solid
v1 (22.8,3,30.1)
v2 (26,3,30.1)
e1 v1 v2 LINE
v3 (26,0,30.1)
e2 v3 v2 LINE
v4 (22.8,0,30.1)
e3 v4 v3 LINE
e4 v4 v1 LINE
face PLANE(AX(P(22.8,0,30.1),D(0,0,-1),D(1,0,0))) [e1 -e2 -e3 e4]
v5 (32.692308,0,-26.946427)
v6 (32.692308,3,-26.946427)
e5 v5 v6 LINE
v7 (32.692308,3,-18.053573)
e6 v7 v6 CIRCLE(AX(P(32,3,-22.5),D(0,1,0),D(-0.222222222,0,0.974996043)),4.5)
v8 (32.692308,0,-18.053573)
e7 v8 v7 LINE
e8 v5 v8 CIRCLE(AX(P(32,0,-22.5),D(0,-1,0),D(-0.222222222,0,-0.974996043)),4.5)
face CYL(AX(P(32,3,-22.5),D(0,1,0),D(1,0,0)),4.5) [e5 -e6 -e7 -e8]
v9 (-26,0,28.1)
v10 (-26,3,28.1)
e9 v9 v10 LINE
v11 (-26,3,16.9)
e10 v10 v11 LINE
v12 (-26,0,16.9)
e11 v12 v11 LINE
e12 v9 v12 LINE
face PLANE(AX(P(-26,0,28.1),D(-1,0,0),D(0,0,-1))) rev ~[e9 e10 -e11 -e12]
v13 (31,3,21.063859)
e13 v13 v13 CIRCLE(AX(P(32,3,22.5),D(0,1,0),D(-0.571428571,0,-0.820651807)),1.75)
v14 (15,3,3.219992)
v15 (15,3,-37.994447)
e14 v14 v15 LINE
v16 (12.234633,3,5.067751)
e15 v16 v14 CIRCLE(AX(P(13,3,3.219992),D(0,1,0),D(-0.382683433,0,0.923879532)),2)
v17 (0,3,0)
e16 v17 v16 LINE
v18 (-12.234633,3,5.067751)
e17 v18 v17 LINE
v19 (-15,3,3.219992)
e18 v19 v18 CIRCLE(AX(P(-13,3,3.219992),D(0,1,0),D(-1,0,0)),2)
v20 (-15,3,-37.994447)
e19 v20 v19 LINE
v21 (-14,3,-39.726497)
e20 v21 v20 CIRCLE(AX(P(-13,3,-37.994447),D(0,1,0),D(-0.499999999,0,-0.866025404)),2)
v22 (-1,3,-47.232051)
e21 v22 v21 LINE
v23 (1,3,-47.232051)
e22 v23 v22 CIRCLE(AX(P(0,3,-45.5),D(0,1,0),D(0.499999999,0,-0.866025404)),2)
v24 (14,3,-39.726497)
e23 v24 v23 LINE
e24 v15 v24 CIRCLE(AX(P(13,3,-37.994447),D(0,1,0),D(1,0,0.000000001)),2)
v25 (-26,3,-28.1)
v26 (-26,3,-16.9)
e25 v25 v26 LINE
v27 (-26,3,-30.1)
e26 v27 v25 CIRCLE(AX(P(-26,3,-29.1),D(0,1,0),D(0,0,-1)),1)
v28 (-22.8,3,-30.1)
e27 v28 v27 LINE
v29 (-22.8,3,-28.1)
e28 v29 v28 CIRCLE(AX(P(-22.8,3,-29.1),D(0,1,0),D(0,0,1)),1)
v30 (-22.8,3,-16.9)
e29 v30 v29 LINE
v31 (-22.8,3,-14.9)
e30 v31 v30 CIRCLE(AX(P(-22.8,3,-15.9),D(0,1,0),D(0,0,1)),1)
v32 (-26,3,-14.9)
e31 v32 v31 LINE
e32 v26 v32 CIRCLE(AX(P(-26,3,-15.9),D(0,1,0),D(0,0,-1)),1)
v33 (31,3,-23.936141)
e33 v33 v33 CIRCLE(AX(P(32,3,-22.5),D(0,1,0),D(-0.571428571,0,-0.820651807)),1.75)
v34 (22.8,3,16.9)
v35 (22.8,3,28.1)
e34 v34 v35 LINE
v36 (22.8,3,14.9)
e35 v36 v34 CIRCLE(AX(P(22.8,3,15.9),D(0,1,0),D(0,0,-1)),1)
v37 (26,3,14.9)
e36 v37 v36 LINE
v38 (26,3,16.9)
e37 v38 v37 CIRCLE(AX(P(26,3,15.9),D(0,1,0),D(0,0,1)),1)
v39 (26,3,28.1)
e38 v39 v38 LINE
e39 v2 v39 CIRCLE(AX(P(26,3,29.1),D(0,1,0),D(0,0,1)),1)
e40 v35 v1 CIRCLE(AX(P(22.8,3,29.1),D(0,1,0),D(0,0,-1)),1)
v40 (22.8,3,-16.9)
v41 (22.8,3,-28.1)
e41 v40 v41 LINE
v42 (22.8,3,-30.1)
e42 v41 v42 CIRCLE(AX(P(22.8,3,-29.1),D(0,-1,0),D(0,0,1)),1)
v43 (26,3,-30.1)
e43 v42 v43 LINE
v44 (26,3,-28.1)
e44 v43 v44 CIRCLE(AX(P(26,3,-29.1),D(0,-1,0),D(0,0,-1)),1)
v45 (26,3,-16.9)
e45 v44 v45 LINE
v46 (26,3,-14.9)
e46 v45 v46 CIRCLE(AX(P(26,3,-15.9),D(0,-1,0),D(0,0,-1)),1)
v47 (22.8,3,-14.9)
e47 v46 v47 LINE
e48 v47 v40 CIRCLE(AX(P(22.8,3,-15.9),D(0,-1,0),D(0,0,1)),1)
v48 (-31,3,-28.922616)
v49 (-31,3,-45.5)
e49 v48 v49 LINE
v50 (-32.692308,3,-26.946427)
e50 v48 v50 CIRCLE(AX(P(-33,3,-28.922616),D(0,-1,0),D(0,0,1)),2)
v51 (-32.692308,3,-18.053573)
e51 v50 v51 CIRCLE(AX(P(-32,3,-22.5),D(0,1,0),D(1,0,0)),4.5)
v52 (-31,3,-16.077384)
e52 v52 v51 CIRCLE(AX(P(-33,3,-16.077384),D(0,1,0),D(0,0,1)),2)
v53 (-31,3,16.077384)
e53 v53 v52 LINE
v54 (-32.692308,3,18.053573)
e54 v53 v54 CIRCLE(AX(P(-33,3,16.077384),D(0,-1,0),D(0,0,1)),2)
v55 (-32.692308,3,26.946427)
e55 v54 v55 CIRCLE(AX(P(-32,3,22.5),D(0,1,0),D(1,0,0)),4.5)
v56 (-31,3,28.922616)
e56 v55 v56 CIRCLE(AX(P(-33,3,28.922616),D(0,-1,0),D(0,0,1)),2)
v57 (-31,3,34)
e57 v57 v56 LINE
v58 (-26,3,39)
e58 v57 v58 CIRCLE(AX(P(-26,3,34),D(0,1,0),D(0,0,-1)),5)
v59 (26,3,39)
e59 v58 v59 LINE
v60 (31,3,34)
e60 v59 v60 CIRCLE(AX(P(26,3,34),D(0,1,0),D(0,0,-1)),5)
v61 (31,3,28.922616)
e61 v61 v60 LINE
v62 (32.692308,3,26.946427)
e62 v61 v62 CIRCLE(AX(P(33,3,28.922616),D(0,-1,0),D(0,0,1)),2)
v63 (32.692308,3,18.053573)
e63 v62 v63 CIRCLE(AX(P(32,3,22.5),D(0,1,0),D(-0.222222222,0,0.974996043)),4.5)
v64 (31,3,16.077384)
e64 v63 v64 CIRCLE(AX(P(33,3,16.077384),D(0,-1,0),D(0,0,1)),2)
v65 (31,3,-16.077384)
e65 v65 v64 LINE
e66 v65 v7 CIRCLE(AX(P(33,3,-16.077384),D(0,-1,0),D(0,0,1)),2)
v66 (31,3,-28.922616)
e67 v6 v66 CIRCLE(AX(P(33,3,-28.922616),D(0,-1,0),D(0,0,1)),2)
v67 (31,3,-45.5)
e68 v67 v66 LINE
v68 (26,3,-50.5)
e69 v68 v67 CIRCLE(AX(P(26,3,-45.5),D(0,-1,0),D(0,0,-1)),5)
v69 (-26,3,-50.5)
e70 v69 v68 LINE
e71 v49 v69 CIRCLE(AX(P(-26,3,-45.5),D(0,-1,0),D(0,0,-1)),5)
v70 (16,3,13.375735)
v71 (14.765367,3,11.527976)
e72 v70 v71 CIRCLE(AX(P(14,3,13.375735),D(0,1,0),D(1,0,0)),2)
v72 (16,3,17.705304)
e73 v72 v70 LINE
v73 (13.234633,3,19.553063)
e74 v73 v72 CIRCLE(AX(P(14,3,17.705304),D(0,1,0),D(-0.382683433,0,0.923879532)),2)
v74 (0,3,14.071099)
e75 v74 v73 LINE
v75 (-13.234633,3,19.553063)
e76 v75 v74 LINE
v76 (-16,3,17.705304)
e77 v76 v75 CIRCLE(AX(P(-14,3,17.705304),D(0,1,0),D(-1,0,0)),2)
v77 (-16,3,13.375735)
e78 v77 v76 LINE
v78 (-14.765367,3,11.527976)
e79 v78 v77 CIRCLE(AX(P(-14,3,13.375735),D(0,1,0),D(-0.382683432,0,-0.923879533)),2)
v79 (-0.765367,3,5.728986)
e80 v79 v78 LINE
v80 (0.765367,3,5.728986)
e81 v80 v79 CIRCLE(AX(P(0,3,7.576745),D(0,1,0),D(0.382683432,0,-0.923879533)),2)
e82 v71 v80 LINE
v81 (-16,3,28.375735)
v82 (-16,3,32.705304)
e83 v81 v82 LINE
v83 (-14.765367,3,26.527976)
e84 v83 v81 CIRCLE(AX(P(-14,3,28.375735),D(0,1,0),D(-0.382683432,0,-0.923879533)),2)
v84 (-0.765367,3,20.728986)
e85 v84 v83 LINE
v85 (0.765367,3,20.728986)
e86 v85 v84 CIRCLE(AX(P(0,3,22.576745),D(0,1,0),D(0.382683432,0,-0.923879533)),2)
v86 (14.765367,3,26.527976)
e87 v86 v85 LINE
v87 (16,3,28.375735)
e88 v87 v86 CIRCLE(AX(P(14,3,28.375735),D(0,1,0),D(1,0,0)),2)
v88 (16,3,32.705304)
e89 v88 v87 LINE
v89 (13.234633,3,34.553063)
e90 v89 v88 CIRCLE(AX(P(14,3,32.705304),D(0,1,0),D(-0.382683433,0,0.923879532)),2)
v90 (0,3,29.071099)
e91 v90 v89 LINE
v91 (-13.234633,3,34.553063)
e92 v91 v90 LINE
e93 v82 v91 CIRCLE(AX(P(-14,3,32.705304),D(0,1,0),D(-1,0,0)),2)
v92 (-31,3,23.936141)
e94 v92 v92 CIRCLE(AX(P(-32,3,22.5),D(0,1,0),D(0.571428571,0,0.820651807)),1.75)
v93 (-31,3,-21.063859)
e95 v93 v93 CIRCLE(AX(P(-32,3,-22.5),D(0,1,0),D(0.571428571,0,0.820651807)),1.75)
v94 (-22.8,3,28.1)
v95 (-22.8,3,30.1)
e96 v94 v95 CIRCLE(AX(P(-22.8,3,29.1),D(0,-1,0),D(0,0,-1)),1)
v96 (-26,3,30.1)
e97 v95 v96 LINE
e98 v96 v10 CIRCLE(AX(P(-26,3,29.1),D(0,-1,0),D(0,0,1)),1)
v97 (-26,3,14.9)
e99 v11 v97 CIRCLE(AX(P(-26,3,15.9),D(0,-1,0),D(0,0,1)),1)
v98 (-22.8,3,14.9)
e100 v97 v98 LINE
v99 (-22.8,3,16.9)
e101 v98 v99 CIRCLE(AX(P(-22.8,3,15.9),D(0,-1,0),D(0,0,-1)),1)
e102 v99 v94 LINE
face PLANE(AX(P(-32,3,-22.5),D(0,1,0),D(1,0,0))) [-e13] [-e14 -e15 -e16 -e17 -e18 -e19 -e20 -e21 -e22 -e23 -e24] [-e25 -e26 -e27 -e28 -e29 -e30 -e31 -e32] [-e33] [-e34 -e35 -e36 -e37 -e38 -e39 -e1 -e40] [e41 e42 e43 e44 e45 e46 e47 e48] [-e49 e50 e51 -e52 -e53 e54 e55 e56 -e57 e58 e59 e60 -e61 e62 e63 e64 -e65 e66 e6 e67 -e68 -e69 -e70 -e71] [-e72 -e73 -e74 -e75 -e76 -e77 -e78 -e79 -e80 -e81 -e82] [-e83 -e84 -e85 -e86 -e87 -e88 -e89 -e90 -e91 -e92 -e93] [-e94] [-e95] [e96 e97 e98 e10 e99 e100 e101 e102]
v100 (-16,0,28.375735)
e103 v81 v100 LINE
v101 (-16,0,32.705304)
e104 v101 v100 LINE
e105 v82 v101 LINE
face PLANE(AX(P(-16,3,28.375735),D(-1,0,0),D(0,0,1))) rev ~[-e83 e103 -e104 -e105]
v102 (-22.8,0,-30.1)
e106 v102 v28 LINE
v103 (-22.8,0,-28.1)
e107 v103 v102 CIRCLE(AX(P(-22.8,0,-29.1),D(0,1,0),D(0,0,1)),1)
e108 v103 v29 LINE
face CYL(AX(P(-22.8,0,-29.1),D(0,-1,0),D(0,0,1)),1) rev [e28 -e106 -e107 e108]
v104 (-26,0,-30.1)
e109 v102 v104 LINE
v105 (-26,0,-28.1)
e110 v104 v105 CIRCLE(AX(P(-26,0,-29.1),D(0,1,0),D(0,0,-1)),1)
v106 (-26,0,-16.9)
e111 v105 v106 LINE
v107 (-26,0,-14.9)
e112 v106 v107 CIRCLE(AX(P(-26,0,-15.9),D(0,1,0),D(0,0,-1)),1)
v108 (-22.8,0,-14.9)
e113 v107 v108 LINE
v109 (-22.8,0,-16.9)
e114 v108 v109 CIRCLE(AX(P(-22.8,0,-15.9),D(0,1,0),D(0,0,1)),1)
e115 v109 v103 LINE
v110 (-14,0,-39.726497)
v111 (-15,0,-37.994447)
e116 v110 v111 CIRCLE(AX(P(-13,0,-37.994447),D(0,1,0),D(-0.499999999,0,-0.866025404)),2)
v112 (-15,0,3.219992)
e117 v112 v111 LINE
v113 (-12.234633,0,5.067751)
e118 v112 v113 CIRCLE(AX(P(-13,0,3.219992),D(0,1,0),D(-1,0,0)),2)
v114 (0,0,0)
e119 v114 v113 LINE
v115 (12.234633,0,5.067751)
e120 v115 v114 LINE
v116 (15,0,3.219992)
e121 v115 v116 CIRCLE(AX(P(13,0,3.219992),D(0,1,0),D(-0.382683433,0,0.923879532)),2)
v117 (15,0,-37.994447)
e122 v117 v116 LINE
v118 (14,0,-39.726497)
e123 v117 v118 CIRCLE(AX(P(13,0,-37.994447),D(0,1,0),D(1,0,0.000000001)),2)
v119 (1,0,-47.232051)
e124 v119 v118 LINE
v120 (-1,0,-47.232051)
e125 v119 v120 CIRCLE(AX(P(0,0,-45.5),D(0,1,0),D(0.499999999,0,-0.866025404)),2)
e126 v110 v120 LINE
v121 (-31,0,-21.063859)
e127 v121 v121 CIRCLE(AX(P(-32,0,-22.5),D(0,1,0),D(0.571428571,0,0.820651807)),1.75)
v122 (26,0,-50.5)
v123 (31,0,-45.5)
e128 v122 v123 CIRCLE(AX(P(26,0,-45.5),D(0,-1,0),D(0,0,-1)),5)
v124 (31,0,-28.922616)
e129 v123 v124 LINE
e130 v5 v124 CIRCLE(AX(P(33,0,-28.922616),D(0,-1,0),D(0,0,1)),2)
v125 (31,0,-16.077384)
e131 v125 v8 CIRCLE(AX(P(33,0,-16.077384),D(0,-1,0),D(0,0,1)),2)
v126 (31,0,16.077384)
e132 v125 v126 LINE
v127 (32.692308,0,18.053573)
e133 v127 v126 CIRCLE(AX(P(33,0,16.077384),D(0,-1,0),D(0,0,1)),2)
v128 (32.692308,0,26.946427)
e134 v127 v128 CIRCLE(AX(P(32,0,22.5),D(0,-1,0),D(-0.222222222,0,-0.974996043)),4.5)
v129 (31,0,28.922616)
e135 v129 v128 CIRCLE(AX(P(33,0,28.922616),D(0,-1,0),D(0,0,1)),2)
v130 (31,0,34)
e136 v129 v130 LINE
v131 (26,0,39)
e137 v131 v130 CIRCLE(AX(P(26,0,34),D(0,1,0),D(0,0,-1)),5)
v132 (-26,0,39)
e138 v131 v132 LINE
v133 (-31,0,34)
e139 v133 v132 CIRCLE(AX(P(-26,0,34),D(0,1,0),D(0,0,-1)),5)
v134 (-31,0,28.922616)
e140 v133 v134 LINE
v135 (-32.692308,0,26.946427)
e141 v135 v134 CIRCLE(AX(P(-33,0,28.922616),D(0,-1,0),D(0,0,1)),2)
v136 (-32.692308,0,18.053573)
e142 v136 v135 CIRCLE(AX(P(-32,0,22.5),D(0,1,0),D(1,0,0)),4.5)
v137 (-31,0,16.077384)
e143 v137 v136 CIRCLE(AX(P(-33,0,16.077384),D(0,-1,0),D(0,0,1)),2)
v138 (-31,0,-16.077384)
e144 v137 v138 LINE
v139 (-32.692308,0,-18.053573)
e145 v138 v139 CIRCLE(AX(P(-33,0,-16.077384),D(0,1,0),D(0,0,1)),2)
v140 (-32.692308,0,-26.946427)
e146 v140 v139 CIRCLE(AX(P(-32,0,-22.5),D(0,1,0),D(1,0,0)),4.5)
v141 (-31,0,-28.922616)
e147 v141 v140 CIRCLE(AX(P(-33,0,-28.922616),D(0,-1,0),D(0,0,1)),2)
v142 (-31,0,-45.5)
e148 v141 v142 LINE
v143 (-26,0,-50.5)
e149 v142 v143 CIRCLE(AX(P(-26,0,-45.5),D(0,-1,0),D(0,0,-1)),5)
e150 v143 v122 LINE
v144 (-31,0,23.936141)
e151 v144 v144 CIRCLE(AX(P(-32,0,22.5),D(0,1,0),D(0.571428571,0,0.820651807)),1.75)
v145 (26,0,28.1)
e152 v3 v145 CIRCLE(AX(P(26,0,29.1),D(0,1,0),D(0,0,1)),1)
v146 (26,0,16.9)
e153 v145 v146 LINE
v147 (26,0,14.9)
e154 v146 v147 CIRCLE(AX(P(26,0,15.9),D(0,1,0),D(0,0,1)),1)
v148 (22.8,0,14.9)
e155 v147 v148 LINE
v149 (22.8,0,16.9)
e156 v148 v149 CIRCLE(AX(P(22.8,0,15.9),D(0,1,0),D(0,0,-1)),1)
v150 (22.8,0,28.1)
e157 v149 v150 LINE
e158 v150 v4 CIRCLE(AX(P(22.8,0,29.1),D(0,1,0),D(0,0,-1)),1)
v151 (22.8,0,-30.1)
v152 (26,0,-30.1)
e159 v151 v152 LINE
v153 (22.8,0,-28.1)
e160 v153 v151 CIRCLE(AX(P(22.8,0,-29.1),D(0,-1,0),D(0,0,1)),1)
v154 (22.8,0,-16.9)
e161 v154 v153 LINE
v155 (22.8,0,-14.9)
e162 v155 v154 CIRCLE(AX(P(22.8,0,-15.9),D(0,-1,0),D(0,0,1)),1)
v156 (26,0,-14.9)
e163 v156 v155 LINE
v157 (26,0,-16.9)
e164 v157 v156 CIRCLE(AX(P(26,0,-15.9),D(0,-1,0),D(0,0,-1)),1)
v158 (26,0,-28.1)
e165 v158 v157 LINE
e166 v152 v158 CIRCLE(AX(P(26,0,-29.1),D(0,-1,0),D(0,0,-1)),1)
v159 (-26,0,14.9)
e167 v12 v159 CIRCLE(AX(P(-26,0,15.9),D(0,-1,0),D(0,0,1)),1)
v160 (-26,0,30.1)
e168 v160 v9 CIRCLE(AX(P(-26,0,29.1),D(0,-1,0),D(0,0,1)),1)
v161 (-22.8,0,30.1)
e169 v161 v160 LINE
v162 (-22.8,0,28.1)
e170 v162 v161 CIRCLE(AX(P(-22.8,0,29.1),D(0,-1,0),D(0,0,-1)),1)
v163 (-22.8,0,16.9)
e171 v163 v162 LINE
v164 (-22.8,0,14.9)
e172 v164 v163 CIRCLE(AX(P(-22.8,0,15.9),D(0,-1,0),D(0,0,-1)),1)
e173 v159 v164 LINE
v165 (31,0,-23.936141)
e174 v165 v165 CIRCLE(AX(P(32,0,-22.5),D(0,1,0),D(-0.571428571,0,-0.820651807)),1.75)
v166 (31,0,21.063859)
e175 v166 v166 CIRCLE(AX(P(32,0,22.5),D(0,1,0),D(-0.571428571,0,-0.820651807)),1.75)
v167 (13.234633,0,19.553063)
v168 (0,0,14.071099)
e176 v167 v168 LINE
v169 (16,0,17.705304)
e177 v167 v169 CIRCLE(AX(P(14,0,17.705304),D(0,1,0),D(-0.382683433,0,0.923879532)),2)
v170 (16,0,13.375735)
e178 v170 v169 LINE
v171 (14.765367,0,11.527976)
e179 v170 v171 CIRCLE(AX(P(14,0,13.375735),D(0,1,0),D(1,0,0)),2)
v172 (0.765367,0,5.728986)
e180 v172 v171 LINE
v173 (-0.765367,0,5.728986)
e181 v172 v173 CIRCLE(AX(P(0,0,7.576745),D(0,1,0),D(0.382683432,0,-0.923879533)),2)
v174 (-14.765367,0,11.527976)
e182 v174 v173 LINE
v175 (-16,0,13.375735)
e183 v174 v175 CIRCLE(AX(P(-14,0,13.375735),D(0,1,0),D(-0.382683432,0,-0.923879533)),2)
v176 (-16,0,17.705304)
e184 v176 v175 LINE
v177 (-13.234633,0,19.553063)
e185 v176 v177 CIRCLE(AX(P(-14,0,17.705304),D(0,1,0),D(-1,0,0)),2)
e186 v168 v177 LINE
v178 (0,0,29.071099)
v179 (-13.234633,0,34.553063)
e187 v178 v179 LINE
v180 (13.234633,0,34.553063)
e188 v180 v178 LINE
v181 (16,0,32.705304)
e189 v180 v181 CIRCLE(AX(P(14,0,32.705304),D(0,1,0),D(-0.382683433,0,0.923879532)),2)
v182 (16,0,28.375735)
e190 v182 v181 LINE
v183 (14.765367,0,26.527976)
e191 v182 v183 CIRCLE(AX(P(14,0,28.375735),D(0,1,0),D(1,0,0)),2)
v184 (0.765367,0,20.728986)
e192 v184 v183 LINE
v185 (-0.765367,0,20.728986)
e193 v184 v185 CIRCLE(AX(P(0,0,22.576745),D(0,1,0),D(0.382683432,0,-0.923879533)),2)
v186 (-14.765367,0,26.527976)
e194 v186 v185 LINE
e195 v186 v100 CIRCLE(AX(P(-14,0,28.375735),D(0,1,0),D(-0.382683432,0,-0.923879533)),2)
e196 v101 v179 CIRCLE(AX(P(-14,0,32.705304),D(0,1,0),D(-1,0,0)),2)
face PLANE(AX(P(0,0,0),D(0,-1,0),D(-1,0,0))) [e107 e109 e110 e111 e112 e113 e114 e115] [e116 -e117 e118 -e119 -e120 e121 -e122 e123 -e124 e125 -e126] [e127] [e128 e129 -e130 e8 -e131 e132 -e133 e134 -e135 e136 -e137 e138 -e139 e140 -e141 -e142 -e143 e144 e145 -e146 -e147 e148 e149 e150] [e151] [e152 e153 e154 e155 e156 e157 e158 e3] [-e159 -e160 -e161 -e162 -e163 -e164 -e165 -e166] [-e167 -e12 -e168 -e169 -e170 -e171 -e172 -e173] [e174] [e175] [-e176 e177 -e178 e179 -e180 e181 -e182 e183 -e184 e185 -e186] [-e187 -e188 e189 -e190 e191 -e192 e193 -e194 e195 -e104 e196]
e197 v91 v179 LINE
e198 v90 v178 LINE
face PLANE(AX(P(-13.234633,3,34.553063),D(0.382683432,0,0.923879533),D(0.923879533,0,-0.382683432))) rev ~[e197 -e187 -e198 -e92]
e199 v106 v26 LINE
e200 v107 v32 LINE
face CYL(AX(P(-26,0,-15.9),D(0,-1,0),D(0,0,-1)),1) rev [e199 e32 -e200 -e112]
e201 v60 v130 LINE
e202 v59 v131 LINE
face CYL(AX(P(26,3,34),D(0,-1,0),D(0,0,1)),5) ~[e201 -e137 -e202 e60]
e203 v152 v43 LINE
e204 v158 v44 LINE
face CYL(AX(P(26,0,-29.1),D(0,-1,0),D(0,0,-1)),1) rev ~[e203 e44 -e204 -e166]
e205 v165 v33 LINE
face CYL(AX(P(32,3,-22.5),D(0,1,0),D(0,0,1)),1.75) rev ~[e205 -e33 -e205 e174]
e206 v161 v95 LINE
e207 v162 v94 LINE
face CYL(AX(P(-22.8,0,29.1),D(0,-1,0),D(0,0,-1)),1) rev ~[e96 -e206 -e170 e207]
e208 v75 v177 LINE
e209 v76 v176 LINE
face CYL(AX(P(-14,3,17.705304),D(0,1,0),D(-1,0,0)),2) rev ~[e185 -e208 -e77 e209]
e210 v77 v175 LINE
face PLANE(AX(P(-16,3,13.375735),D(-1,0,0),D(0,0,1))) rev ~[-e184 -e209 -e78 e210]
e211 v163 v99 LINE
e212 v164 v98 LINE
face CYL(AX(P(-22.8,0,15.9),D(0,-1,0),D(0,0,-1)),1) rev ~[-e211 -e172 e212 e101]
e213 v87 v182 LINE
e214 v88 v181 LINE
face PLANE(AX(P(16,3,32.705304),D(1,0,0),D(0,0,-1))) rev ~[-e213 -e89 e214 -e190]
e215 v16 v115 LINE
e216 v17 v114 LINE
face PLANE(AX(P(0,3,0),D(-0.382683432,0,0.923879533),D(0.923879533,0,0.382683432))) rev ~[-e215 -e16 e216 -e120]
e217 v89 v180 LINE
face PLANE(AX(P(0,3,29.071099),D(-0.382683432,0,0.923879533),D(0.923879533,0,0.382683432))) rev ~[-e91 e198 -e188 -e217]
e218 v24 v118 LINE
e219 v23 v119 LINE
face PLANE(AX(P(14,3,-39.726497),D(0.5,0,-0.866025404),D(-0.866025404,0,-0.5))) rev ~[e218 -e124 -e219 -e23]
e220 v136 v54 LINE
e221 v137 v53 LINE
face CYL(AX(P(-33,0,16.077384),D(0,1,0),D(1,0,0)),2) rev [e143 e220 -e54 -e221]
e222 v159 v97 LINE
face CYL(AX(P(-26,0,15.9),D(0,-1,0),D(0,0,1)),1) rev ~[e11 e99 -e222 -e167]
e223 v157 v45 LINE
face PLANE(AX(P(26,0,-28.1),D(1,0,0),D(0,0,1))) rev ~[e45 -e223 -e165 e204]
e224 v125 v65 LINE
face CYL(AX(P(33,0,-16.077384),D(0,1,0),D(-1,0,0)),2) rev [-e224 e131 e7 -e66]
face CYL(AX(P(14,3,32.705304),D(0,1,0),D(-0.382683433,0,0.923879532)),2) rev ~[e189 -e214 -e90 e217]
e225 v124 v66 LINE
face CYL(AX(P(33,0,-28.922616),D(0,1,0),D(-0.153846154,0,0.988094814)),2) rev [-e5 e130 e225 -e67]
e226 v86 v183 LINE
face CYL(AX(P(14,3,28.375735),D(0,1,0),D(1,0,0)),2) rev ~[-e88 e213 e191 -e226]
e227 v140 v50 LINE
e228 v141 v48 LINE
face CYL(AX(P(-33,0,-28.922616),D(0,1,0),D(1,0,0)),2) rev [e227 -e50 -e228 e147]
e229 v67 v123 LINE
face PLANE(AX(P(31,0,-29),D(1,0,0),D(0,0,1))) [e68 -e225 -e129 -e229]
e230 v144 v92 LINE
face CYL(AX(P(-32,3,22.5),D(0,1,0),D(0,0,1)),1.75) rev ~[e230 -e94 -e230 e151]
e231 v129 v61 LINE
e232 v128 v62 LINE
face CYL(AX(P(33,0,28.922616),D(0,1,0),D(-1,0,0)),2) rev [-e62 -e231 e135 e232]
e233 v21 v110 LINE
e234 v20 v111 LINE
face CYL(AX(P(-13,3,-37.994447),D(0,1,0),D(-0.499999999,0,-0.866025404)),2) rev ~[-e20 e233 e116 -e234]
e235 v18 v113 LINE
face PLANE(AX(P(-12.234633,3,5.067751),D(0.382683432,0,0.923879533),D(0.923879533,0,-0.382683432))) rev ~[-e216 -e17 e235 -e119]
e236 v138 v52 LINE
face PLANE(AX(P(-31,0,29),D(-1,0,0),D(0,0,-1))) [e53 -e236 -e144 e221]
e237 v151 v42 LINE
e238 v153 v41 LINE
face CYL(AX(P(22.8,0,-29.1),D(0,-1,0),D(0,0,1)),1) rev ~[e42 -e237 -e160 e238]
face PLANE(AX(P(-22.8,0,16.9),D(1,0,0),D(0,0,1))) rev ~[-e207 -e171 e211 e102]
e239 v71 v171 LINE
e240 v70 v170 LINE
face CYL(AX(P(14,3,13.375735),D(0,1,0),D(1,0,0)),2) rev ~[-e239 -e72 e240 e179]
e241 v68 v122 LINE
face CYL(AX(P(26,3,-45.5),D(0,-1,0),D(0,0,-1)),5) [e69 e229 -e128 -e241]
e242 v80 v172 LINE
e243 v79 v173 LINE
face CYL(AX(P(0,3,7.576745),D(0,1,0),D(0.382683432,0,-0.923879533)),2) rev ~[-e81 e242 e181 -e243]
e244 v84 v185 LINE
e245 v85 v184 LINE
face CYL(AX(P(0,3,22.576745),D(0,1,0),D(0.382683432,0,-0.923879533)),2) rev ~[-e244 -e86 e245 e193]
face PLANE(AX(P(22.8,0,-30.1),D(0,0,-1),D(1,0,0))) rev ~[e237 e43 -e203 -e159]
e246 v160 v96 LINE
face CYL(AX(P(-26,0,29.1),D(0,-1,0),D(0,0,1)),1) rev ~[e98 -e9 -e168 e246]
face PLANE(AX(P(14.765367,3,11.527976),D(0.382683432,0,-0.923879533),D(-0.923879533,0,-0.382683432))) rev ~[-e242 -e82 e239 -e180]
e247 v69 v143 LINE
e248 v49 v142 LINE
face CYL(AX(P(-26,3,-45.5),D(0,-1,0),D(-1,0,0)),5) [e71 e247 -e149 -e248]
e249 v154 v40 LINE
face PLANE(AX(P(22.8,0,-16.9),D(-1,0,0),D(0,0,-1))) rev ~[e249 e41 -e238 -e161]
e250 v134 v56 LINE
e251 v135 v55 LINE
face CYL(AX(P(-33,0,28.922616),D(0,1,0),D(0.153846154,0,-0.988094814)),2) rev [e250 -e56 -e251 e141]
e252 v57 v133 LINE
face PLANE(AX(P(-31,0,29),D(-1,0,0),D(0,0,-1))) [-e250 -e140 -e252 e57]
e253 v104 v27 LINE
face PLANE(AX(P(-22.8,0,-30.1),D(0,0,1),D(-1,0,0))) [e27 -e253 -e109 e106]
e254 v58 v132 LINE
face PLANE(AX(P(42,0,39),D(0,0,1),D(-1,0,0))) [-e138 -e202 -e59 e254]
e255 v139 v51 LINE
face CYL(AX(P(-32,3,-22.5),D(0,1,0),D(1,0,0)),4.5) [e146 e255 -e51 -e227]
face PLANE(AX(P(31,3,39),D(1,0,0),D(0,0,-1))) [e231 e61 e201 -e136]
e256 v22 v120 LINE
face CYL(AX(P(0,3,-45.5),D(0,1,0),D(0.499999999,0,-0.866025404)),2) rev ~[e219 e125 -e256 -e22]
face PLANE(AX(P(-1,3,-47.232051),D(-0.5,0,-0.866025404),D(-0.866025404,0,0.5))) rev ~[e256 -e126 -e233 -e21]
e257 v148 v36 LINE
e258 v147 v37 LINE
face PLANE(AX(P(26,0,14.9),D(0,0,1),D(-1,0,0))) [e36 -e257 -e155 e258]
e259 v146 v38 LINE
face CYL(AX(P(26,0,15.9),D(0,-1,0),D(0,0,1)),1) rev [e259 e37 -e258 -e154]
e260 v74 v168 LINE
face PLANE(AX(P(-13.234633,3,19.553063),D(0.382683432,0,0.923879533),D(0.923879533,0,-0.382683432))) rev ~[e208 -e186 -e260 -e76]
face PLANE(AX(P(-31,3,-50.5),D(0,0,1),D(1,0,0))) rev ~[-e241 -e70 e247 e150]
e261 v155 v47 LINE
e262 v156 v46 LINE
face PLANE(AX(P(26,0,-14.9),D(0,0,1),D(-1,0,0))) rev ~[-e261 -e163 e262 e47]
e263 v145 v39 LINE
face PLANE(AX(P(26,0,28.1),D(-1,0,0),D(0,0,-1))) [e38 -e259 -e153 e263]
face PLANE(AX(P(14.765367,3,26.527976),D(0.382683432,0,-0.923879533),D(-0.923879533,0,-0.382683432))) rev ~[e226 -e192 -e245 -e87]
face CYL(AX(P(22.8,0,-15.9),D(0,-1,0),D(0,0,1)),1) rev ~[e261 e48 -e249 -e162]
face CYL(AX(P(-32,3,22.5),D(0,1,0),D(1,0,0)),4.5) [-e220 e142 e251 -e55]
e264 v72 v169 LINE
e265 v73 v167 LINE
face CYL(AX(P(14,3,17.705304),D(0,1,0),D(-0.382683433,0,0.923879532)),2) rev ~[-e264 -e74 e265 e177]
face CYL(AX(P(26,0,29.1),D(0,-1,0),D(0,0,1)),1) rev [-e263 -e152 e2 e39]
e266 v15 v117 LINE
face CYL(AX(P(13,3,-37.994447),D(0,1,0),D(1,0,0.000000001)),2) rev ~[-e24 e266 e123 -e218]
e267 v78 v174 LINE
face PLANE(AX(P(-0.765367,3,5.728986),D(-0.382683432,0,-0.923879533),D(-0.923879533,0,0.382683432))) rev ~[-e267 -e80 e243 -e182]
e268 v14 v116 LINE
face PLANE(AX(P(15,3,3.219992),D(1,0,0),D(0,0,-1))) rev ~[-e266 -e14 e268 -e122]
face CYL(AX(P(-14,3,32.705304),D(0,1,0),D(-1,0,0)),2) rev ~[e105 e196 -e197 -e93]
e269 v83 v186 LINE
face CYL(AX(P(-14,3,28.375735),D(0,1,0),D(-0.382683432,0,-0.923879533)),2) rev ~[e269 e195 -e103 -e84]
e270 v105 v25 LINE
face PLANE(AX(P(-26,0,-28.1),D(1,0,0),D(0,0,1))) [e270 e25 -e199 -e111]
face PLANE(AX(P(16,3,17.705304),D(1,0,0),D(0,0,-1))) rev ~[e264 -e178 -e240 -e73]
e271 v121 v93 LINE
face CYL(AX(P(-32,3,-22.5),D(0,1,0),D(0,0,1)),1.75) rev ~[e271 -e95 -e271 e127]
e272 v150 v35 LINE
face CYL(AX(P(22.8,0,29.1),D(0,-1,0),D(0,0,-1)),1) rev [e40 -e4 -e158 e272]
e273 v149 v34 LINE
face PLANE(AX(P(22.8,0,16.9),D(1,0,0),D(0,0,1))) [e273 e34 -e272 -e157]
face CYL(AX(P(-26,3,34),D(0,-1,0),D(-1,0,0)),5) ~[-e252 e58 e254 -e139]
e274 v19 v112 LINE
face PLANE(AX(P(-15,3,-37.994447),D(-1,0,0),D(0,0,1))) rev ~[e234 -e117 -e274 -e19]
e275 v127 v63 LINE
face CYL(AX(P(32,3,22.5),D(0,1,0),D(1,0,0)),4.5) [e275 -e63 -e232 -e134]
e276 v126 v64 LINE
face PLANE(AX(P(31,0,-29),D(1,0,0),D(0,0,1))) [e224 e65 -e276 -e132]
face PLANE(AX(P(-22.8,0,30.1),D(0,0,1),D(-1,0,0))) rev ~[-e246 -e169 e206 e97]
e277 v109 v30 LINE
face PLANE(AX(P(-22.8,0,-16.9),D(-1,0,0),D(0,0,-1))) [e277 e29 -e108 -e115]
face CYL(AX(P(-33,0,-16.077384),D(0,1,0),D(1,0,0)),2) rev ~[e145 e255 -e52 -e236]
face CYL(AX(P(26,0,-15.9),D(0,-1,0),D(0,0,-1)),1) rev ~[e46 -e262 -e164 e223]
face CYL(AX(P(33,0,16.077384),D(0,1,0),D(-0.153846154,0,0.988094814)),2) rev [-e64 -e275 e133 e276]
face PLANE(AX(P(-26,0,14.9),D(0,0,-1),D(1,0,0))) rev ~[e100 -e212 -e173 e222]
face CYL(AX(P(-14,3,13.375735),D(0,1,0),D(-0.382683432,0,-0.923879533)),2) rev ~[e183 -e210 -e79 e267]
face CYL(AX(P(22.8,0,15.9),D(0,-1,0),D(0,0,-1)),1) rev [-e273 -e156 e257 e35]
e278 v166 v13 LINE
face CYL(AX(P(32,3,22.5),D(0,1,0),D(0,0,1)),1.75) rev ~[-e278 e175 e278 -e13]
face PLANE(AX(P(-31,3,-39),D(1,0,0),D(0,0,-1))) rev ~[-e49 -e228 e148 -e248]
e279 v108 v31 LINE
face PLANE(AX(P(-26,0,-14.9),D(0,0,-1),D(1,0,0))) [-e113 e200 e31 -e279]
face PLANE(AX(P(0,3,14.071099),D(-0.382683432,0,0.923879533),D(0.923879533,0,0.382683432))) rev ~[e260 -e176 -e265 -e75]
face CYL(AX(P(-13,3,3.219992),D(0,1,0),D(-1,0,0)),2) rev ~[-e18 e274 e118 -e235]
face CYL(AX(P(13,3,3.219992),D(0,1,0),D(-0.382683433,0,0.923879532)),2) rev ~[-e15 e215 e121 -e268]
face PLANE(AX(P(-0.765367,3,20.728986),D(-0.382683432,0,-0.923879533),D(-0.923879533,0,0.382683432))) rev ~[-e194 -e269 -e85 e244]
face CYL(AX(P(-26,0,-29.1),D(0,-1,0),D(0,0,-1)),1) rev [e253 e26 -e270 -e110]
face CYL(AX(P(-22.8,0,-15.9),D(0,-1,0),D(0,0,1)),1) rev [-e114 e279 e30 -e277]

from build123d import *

# Parameters (mm, degrees)
SKETCH_1_R          = 1.65
EXTRUDE_1_DEPTH     = 3
SKETCH_3_W          = 62
SKETCH_3_H          = 11.5
EXTRUDE_2_DEPTH     = 3
FILLET_1_R          = 5
CUT_EXTRUDE_1_DEPTH = 10
SKETCH_4_R          = 4.5
SKETCH_4_R_2        = 1.75
EXTRUDE_3_DEPTH     = 3
FILLET_2_R          = 2
SKETCH_5_R          = 1.75
CUT_EXTRUDE_2_DEPTH = 3
SKETCH_6_OUTSIDE_W  = 115.11
SKETCH_6_OUTSIDE_H  = 116.61
CUT_EXTRUDE_4_DEPTH = 10
FILLET_3_R          = 5


with BuildPart() as part:
    # 草图1 → 凸台-拉伸1 (new body)
    with BuildSketch(Plane(origin=(0, 0, 0), x_dir=(1, 0, 0), z_dir=(0, 1, 0))):
        with BuildLine():
            Line((-42, 39), (42, 39))
            ThreePointArc((42, 39), (43.414213562, 38.414213562), (44, 37))
            Line((44, 37), (44, 33))
            ThreePointArc((44, 33), (43.414213562, 31.585786438), (42, 31))
            Line((42, 31), (33, 31))
            ThreePointArc((33, 31), (31.585786438, 30.414213562), (31, 29))
            Line((31, 29), (31, -29))
            ThreePointArc((31, -29), (31.585786438, -30.414213562), (33, -31))
            Line((33, -31), (42, -31))
            ThreePointArc((42, -31), (43.414213562, -31.585786438), (44, -33))
            Line((44, -33), (44, -37))
            ThreePointArc((44, -37), (43.414213562, -38.414213562), (42, -39))
            Line((42, -39), (-42, -39))
            ThreePointArc((-42, -39), (-43.414213562, -38.414213562), (-44, -37))
            Line((-44, -37), (-44, -33))
            ThreePointArc((-44, -33), (-43.414213562, -31.585786438), (-42, -31))
            Line((-42, -31), (-33, -31))
            ThreePointArc((-33, -31), (-31.585786438, -30.414213562), (-31, -29))
            Line((-31, -29), (-31, 29))
            ThreePointArc((-31, 29), (-31.585786438, 30.414213562), (-33, 31))
            Line((-33, 31), (-42, 31))
            ThreePointArc((-42, 31), (-43.414213562, 31.585786438), (-44, 33))
            Line((-44, 33), (-44, 37))
            ThreePointArc((-44, 37), (-43.414213562, 38.414213562), (-42, 39))
        make_face()
        with Locations(Location((-40, 35, 0), (0, 0, 270))):
            Circle(SKETCH_1_R, mode=Mode.SUBTRACT)
        with Locations(Location((40, 35, 0), (0, 0, 270))):
            Circle(SKETCH_1_R, mode=Mode.SUBTRACT)
        with Locations(Location((-40, -35, 0), (0, 0, 270))):
            Circle(SKETCH_1_R, mode=Mode.SUBTRACT)
        with Locations(Location((40, -35, 0), (0, 0, 270))):
            Circle(SKETCH_1_R, mode=Mode.SUBTRACT)
        with BuildLine():
            Line((-22.8, 30.1), (-26, 30.1))
            ThreePointArc((-26, 30.1), (-27, 29.1), (-26, 28.1))
            Line((-26, 28.1), (-26, 16.9))
            ThreePointArc((-26, 16.9), (-27, 15.9), (-26, 14.9))
            Line((-26, 14.9), (-22.8, 14.9))
            ThreePointArc((-22.8, 14.9), (-21.8, 15.9), (-22.8, 16.9))
            Line((-22.8, 16.9), (-22.8, 28.1))
            ThreePointArc((-22.8, 28.1), (-21.8, 29.1), (-22.8, 30.1))
        make_face(mode=Mode.SUBTRACT)
        with BuildLine():
            Line((22.8, 30.1), (26, 30.1))
            ThreePointArc((26, 30.1), (27, 29.1), (26, 28.1))
            Line((26, 28.1), (26, 16.9))
            ThreePointArc((26, 16.9), (27, 15.9), (26, 14.9))
            Line((26, 14.9), (22.8, 14.9))
            ThreePointArc((22.8, 14.9), (21.8, 15.9), (22.8, 16.9))
            Line((22.8, 16.9), (22.8, 28.1))
            ThreePointArc((22.8, 28.1), (21.8, 29.1), (22.8, 30.1))
        make_face(mode=Mode.SUBTRACT)
        with BuildLine():
            Line((22.8, -30.1), (26, -30.1))
            ThreePointArc((26, -30.1), (27, -29.1), (26, -28.1))
            Line((26, -28.1), (26, -16.9))
            ThreePointArc((26, -16.9), (27, -15.9), (26, -14.9))
            Line((26, -14.9), (22.8, -14.9))
            ThreePointArc((22.8, -14.9), (21.8, -15.9), (22.8, -16.9))
            Line((22.8, -16.9), (22.8, -28.1))
            ThreePointArc((22.8, -28.1), (21.8, -29.1), (22.8, -30.1))
        make_face(mode=Mode.SUBTRACT)
        with BuildLine():
            Line((-22.8, -30.1), (-26, -30.1))
            ThreePointArc((-26, -30.1), (-27, -29.1), (-26, -28.1))
            Line((-26, -28.1), (-26, -16.9))
            ThreePointArc((-26, -16.9), (-27, -15.9), (-26, -14.9))
            Line((-26, -14.9), (-22.8, -14.9))
            ThreePointArc((-22.8, -14.9), (-21.8, -15.9), (-22.8, -16.9))
            Line((-22.8, -16.9), (-22.8, -28.1))
            ThreePointArc((-22.8, -28.1), (-21.8, -29.1), (-22.8, -30.1))
        make_face(mode=Mode.SUBTRACT)
    extrude(amount=EXTRUDE_1_DEPTH)

    # 草图3 → 凸台-拉伸2 (add)
    with BuildSketch(Plane(origin=(0, 3, 0), x_dir=(1, 0, 0), z_dir=(0, 1, 0))):
        with Locations((0, 44.75)):
            Rectangle(SKETCH_3_W, SKETCH_3_H)
    extrude(amount=-EXTRUDE_2_DEPTH)

    # 圆角1
    fillet_1_edges = [part.edges().sort_by_distance(p)[0] for p in [
        (31, 1.5, -50.5),
        (31, 1.5, -39),
        (-31, 1.5, -39),
        (-31, 1.5, -50.5),
    ]]
    fillet(fillet_1_edges, radius=FILLET_1_R)

    # 草图2 → 切除-拉伸1 (cut)
    with BuildSketch(Plane(origin=(0, 3, 0), x_dir=(1, 0, 0), z_dir=(0, 1, 0))):
        with BuildLine():
            Line((-1, 47.232050808), (-14, 39.726497308))
            ThreePointArc((-14, 39.726497308), (-14.732050808, 38.994446501), (-15, 37.994446501))
            Line((-15, 37.994446501), (-15, -3.21999191))
            ThreePointArc((-15, -3.21999191), (-14.111140466, -4.882931135), (-12.234633135, -5.067750975))
            Line((-12.234633135, -5.067750975), (0, 0))
            Line((0, 0), (12.234633135, -5.067750975))
            ThreePointArc((12.234633135, -5.067750975), (14.111140466, -4.882931135), (15, -3.21999191))
            Line((15, -3.21999191), (15, 37.994446501))
            ThreePointArc((15, 37.994446501), (14.732050808, 38.994446501), (14, 39.726497308))
            Line((14, 39.726497308), (1, 47.232050808))
            ThreePointArc((1, 47.232050808), (0, 47.5), (-1, 47.232050808))
        make_face()
        with BuildLine():
            Line((-0.765366865, -5.728986337), (-14.765366865, -11.52797621))
            ThreePointArc((-14.765366865, -11.52797621), (-15.662939225, -12.264594809), (-16, -13.375735275))
            Line((-16, -13.375735275), (-16, -17.705304076))
            ThreePointArc((-16, -17.705304076), (-15.111140466, -19.368243301), (-13.234633135, -19.553063141))
            Line((-13.234633135, -19.553063141), (0, -14.071098604))
            Line((0, -14.071098604), (13.234633135, -19.553063141))
            ThreePointArc((13.234633135, -19.553063141), (15.111140466, -19.368243301), (16, -17.705304076))
            Line((16, -17.705304076), (16, -13.375735275))
            ThreePointArc((16, -13.375735275), (15.662939225, -12.264594809), (14.765366865, -11.52797621))
            Line((14.765366865, -11.52797621), (0.765366865, -5.728986337))
            ThreePointArc((0.765366865, -5.728986337), (0, -5.576745402), (-0.765366865, -5.728986337))
        make_face()
        with BuildLine():
            Line((14.765366865, -26.52797621), (0.765366865, -20.728986337))
            ThreePointArc((0.765366865, -20.728986337), (0, -20.576745402), (-0.765366865, -20.728986337))
            Line((-0.765366865, -20.728986337), (-14.765366865, -26.52797621))
            ThreePointArc((-14.765366865, -26.52797621), (-15.662939225, -27.264594809), (-16, -28.375735275))
            Line((-16, -28.375735275), (-16, -32.705304076))
            ThreePointArc((-16, -32.705304076), (-15.111140466, -34.368243301), (-13.234633135, -34.553063141))
            Line((-13.234633135, -34.553063141), (0, -29.071098604))
            Line((0, -29.071098604), (13.234633135, -34.553063141))
            ThreePointArc((13.234633135, -34.553063141), (15.111140466, -34.368243301), (16, -32.705304076))
            Line((16, -32.705304076), (16, -28.375735275))
            ThreePointArc((16, -28.375735275), (15.662939225, -27.264594809), (14.765366865, -26.52797621))
        make_face()
    extrude(amount=-CUT_EXTRUDE_1_DEPTH, mode=Mode.SUBTRACT)

    # 草图4 → 凸台-拉伸3 (add)
    # profile 1 of 4: a face of its own
    with BuildSketch(Plane(origin=(0, 3, 0), x_dir=(1, 0, 0), z_dir=(0, 1, 0))):
        with Locations((-32, 22.5)):
            Circle(SKETCH_4_R)
        with Locations((-32, 22.5)):
            Circle(SKETCH_4_R_2, mode=Mode.SUBTRACT)
    # profile 2 of 4: a face of its own
    with BuildSketch(Plane(origin=(0, 3, 0), x_dir=(1, 0, 0), z_dir=(0, 1, 0))):
        with Locations((32, 22.5)):
            Circle(SKETCH_4_R)
        with Locations((32, 22.5)):
            Circle(SKETCH_4_R_2, mode=Mode.SUBTRACT)
    # profile 3 of 4: a face of its own
    with BuildSketch(Plane(origin=(0, 3, 0), x_dir=(1, 0, 0), z_dir=(0, 1, 0))):
        with Locations((32, -22.5)):
            Circle(SKETCH_4_R)
        with Locations((32, -22.5)):
            Circle(SKETCH_4_R_2, mode=Mode.SUBTRACT)
    # profile 4 of 4: a face of its own
    with BuildSketch(Plane(origin=(0, 3, 0), x_dir=(1, 0, 0), z_dir=(0, 1, 0))):
        with Locations((-32, -22.5)):
            Circle(SKETCH_4_R)
        with Locations((-32, -22.5)):
            Circle(SKETCH_4_R_2, mode=Mode.SUBTRACT)
    extrude(amount=-EXTRUDE_3_DEPTH)

    # 圆角2
    fillet_2_edges = [part.edges().sort_by_distance(p)[0] for p in [
        (-31, 1.5, -18.112517806),
        (-31, 1.5, -26.887482194),
        (31, 1.5, -26.887482194),
        (31, 1.5, -18.112517806),
        (31, 1.5, 26.887482194),
        (31, 1.5, 18.112517806),
        (-31, 1.5, 26.887482194),
        (-31, 1.5, 18.112517806),
    ]]
    fillet(fillet_2_edges, radius=FILLET_2_R)

    # 草图5 → 切除-拉伸2 (cut)
    with BuildSketch(Plane(origin=(0, 3, 0), x_dir=(1, 0, 0), z_dir=(0, 1, 0))):
        with Locations(Location((-32, 22.5, 0), (0, 0, 270))):
            Circle(SKETCH_5_R)
        with Locations(Location((32, 22.5, 0), (0, 0, 270))):
            Circle(SKETCH_5_R)
        with Locations(Location((32, -22.5, 0), (0, 0, 270))):
            Circle(SKETCH_5_R)
        with Locations(Location((-32, -22.5, 0), (0, 0, 270))):
            Circle(SKETCH_5_R)
    extrude(amount=-CUT_EXTRUDE_2_DEPTH, mode=Mode.SUBTRACT)

    # 草图6 outside → 切除-拉伸4 (cut)
    with BuildSketch(Plane(origin=(0, 3, 0), x_dir=(1, 0, 0), z_dir=(0, 1, 0))):
        with Locations((0, 5.75)):
            Rectangle(SKETCH_6_OUTSIDE_W, SKETCH_6_OUTSIDE_H)
        Polygon((-31, 45.5), (-31, 28.922616289), (-44.52716968, 28.922616289), (-44.52716968, -29), (-31, -29), (-31, -39), (31, -39), (31, -28.922616289), (42.852208754, -28.922616289), (42.852208754, 29), (31, 29), (31, 45.5), (31, 52.188575174), (-31, 52.188575174), align=None, mode=Mode.SUBTRACT)
    extrude(amount=-CUT_EXTRUDE_4_DEPTH, mode=Mode.SUBTRACT)

    # 圆角3
    fillet_3_edges = [part.edges().sort_by_distance(p)[0] for p in [
        (-31, 1.5, 39),
        (31, 1.5, 39),
    ]]
    fillet(fillet_3_edges, radius=FILLET_3_R)


solid = part.part
